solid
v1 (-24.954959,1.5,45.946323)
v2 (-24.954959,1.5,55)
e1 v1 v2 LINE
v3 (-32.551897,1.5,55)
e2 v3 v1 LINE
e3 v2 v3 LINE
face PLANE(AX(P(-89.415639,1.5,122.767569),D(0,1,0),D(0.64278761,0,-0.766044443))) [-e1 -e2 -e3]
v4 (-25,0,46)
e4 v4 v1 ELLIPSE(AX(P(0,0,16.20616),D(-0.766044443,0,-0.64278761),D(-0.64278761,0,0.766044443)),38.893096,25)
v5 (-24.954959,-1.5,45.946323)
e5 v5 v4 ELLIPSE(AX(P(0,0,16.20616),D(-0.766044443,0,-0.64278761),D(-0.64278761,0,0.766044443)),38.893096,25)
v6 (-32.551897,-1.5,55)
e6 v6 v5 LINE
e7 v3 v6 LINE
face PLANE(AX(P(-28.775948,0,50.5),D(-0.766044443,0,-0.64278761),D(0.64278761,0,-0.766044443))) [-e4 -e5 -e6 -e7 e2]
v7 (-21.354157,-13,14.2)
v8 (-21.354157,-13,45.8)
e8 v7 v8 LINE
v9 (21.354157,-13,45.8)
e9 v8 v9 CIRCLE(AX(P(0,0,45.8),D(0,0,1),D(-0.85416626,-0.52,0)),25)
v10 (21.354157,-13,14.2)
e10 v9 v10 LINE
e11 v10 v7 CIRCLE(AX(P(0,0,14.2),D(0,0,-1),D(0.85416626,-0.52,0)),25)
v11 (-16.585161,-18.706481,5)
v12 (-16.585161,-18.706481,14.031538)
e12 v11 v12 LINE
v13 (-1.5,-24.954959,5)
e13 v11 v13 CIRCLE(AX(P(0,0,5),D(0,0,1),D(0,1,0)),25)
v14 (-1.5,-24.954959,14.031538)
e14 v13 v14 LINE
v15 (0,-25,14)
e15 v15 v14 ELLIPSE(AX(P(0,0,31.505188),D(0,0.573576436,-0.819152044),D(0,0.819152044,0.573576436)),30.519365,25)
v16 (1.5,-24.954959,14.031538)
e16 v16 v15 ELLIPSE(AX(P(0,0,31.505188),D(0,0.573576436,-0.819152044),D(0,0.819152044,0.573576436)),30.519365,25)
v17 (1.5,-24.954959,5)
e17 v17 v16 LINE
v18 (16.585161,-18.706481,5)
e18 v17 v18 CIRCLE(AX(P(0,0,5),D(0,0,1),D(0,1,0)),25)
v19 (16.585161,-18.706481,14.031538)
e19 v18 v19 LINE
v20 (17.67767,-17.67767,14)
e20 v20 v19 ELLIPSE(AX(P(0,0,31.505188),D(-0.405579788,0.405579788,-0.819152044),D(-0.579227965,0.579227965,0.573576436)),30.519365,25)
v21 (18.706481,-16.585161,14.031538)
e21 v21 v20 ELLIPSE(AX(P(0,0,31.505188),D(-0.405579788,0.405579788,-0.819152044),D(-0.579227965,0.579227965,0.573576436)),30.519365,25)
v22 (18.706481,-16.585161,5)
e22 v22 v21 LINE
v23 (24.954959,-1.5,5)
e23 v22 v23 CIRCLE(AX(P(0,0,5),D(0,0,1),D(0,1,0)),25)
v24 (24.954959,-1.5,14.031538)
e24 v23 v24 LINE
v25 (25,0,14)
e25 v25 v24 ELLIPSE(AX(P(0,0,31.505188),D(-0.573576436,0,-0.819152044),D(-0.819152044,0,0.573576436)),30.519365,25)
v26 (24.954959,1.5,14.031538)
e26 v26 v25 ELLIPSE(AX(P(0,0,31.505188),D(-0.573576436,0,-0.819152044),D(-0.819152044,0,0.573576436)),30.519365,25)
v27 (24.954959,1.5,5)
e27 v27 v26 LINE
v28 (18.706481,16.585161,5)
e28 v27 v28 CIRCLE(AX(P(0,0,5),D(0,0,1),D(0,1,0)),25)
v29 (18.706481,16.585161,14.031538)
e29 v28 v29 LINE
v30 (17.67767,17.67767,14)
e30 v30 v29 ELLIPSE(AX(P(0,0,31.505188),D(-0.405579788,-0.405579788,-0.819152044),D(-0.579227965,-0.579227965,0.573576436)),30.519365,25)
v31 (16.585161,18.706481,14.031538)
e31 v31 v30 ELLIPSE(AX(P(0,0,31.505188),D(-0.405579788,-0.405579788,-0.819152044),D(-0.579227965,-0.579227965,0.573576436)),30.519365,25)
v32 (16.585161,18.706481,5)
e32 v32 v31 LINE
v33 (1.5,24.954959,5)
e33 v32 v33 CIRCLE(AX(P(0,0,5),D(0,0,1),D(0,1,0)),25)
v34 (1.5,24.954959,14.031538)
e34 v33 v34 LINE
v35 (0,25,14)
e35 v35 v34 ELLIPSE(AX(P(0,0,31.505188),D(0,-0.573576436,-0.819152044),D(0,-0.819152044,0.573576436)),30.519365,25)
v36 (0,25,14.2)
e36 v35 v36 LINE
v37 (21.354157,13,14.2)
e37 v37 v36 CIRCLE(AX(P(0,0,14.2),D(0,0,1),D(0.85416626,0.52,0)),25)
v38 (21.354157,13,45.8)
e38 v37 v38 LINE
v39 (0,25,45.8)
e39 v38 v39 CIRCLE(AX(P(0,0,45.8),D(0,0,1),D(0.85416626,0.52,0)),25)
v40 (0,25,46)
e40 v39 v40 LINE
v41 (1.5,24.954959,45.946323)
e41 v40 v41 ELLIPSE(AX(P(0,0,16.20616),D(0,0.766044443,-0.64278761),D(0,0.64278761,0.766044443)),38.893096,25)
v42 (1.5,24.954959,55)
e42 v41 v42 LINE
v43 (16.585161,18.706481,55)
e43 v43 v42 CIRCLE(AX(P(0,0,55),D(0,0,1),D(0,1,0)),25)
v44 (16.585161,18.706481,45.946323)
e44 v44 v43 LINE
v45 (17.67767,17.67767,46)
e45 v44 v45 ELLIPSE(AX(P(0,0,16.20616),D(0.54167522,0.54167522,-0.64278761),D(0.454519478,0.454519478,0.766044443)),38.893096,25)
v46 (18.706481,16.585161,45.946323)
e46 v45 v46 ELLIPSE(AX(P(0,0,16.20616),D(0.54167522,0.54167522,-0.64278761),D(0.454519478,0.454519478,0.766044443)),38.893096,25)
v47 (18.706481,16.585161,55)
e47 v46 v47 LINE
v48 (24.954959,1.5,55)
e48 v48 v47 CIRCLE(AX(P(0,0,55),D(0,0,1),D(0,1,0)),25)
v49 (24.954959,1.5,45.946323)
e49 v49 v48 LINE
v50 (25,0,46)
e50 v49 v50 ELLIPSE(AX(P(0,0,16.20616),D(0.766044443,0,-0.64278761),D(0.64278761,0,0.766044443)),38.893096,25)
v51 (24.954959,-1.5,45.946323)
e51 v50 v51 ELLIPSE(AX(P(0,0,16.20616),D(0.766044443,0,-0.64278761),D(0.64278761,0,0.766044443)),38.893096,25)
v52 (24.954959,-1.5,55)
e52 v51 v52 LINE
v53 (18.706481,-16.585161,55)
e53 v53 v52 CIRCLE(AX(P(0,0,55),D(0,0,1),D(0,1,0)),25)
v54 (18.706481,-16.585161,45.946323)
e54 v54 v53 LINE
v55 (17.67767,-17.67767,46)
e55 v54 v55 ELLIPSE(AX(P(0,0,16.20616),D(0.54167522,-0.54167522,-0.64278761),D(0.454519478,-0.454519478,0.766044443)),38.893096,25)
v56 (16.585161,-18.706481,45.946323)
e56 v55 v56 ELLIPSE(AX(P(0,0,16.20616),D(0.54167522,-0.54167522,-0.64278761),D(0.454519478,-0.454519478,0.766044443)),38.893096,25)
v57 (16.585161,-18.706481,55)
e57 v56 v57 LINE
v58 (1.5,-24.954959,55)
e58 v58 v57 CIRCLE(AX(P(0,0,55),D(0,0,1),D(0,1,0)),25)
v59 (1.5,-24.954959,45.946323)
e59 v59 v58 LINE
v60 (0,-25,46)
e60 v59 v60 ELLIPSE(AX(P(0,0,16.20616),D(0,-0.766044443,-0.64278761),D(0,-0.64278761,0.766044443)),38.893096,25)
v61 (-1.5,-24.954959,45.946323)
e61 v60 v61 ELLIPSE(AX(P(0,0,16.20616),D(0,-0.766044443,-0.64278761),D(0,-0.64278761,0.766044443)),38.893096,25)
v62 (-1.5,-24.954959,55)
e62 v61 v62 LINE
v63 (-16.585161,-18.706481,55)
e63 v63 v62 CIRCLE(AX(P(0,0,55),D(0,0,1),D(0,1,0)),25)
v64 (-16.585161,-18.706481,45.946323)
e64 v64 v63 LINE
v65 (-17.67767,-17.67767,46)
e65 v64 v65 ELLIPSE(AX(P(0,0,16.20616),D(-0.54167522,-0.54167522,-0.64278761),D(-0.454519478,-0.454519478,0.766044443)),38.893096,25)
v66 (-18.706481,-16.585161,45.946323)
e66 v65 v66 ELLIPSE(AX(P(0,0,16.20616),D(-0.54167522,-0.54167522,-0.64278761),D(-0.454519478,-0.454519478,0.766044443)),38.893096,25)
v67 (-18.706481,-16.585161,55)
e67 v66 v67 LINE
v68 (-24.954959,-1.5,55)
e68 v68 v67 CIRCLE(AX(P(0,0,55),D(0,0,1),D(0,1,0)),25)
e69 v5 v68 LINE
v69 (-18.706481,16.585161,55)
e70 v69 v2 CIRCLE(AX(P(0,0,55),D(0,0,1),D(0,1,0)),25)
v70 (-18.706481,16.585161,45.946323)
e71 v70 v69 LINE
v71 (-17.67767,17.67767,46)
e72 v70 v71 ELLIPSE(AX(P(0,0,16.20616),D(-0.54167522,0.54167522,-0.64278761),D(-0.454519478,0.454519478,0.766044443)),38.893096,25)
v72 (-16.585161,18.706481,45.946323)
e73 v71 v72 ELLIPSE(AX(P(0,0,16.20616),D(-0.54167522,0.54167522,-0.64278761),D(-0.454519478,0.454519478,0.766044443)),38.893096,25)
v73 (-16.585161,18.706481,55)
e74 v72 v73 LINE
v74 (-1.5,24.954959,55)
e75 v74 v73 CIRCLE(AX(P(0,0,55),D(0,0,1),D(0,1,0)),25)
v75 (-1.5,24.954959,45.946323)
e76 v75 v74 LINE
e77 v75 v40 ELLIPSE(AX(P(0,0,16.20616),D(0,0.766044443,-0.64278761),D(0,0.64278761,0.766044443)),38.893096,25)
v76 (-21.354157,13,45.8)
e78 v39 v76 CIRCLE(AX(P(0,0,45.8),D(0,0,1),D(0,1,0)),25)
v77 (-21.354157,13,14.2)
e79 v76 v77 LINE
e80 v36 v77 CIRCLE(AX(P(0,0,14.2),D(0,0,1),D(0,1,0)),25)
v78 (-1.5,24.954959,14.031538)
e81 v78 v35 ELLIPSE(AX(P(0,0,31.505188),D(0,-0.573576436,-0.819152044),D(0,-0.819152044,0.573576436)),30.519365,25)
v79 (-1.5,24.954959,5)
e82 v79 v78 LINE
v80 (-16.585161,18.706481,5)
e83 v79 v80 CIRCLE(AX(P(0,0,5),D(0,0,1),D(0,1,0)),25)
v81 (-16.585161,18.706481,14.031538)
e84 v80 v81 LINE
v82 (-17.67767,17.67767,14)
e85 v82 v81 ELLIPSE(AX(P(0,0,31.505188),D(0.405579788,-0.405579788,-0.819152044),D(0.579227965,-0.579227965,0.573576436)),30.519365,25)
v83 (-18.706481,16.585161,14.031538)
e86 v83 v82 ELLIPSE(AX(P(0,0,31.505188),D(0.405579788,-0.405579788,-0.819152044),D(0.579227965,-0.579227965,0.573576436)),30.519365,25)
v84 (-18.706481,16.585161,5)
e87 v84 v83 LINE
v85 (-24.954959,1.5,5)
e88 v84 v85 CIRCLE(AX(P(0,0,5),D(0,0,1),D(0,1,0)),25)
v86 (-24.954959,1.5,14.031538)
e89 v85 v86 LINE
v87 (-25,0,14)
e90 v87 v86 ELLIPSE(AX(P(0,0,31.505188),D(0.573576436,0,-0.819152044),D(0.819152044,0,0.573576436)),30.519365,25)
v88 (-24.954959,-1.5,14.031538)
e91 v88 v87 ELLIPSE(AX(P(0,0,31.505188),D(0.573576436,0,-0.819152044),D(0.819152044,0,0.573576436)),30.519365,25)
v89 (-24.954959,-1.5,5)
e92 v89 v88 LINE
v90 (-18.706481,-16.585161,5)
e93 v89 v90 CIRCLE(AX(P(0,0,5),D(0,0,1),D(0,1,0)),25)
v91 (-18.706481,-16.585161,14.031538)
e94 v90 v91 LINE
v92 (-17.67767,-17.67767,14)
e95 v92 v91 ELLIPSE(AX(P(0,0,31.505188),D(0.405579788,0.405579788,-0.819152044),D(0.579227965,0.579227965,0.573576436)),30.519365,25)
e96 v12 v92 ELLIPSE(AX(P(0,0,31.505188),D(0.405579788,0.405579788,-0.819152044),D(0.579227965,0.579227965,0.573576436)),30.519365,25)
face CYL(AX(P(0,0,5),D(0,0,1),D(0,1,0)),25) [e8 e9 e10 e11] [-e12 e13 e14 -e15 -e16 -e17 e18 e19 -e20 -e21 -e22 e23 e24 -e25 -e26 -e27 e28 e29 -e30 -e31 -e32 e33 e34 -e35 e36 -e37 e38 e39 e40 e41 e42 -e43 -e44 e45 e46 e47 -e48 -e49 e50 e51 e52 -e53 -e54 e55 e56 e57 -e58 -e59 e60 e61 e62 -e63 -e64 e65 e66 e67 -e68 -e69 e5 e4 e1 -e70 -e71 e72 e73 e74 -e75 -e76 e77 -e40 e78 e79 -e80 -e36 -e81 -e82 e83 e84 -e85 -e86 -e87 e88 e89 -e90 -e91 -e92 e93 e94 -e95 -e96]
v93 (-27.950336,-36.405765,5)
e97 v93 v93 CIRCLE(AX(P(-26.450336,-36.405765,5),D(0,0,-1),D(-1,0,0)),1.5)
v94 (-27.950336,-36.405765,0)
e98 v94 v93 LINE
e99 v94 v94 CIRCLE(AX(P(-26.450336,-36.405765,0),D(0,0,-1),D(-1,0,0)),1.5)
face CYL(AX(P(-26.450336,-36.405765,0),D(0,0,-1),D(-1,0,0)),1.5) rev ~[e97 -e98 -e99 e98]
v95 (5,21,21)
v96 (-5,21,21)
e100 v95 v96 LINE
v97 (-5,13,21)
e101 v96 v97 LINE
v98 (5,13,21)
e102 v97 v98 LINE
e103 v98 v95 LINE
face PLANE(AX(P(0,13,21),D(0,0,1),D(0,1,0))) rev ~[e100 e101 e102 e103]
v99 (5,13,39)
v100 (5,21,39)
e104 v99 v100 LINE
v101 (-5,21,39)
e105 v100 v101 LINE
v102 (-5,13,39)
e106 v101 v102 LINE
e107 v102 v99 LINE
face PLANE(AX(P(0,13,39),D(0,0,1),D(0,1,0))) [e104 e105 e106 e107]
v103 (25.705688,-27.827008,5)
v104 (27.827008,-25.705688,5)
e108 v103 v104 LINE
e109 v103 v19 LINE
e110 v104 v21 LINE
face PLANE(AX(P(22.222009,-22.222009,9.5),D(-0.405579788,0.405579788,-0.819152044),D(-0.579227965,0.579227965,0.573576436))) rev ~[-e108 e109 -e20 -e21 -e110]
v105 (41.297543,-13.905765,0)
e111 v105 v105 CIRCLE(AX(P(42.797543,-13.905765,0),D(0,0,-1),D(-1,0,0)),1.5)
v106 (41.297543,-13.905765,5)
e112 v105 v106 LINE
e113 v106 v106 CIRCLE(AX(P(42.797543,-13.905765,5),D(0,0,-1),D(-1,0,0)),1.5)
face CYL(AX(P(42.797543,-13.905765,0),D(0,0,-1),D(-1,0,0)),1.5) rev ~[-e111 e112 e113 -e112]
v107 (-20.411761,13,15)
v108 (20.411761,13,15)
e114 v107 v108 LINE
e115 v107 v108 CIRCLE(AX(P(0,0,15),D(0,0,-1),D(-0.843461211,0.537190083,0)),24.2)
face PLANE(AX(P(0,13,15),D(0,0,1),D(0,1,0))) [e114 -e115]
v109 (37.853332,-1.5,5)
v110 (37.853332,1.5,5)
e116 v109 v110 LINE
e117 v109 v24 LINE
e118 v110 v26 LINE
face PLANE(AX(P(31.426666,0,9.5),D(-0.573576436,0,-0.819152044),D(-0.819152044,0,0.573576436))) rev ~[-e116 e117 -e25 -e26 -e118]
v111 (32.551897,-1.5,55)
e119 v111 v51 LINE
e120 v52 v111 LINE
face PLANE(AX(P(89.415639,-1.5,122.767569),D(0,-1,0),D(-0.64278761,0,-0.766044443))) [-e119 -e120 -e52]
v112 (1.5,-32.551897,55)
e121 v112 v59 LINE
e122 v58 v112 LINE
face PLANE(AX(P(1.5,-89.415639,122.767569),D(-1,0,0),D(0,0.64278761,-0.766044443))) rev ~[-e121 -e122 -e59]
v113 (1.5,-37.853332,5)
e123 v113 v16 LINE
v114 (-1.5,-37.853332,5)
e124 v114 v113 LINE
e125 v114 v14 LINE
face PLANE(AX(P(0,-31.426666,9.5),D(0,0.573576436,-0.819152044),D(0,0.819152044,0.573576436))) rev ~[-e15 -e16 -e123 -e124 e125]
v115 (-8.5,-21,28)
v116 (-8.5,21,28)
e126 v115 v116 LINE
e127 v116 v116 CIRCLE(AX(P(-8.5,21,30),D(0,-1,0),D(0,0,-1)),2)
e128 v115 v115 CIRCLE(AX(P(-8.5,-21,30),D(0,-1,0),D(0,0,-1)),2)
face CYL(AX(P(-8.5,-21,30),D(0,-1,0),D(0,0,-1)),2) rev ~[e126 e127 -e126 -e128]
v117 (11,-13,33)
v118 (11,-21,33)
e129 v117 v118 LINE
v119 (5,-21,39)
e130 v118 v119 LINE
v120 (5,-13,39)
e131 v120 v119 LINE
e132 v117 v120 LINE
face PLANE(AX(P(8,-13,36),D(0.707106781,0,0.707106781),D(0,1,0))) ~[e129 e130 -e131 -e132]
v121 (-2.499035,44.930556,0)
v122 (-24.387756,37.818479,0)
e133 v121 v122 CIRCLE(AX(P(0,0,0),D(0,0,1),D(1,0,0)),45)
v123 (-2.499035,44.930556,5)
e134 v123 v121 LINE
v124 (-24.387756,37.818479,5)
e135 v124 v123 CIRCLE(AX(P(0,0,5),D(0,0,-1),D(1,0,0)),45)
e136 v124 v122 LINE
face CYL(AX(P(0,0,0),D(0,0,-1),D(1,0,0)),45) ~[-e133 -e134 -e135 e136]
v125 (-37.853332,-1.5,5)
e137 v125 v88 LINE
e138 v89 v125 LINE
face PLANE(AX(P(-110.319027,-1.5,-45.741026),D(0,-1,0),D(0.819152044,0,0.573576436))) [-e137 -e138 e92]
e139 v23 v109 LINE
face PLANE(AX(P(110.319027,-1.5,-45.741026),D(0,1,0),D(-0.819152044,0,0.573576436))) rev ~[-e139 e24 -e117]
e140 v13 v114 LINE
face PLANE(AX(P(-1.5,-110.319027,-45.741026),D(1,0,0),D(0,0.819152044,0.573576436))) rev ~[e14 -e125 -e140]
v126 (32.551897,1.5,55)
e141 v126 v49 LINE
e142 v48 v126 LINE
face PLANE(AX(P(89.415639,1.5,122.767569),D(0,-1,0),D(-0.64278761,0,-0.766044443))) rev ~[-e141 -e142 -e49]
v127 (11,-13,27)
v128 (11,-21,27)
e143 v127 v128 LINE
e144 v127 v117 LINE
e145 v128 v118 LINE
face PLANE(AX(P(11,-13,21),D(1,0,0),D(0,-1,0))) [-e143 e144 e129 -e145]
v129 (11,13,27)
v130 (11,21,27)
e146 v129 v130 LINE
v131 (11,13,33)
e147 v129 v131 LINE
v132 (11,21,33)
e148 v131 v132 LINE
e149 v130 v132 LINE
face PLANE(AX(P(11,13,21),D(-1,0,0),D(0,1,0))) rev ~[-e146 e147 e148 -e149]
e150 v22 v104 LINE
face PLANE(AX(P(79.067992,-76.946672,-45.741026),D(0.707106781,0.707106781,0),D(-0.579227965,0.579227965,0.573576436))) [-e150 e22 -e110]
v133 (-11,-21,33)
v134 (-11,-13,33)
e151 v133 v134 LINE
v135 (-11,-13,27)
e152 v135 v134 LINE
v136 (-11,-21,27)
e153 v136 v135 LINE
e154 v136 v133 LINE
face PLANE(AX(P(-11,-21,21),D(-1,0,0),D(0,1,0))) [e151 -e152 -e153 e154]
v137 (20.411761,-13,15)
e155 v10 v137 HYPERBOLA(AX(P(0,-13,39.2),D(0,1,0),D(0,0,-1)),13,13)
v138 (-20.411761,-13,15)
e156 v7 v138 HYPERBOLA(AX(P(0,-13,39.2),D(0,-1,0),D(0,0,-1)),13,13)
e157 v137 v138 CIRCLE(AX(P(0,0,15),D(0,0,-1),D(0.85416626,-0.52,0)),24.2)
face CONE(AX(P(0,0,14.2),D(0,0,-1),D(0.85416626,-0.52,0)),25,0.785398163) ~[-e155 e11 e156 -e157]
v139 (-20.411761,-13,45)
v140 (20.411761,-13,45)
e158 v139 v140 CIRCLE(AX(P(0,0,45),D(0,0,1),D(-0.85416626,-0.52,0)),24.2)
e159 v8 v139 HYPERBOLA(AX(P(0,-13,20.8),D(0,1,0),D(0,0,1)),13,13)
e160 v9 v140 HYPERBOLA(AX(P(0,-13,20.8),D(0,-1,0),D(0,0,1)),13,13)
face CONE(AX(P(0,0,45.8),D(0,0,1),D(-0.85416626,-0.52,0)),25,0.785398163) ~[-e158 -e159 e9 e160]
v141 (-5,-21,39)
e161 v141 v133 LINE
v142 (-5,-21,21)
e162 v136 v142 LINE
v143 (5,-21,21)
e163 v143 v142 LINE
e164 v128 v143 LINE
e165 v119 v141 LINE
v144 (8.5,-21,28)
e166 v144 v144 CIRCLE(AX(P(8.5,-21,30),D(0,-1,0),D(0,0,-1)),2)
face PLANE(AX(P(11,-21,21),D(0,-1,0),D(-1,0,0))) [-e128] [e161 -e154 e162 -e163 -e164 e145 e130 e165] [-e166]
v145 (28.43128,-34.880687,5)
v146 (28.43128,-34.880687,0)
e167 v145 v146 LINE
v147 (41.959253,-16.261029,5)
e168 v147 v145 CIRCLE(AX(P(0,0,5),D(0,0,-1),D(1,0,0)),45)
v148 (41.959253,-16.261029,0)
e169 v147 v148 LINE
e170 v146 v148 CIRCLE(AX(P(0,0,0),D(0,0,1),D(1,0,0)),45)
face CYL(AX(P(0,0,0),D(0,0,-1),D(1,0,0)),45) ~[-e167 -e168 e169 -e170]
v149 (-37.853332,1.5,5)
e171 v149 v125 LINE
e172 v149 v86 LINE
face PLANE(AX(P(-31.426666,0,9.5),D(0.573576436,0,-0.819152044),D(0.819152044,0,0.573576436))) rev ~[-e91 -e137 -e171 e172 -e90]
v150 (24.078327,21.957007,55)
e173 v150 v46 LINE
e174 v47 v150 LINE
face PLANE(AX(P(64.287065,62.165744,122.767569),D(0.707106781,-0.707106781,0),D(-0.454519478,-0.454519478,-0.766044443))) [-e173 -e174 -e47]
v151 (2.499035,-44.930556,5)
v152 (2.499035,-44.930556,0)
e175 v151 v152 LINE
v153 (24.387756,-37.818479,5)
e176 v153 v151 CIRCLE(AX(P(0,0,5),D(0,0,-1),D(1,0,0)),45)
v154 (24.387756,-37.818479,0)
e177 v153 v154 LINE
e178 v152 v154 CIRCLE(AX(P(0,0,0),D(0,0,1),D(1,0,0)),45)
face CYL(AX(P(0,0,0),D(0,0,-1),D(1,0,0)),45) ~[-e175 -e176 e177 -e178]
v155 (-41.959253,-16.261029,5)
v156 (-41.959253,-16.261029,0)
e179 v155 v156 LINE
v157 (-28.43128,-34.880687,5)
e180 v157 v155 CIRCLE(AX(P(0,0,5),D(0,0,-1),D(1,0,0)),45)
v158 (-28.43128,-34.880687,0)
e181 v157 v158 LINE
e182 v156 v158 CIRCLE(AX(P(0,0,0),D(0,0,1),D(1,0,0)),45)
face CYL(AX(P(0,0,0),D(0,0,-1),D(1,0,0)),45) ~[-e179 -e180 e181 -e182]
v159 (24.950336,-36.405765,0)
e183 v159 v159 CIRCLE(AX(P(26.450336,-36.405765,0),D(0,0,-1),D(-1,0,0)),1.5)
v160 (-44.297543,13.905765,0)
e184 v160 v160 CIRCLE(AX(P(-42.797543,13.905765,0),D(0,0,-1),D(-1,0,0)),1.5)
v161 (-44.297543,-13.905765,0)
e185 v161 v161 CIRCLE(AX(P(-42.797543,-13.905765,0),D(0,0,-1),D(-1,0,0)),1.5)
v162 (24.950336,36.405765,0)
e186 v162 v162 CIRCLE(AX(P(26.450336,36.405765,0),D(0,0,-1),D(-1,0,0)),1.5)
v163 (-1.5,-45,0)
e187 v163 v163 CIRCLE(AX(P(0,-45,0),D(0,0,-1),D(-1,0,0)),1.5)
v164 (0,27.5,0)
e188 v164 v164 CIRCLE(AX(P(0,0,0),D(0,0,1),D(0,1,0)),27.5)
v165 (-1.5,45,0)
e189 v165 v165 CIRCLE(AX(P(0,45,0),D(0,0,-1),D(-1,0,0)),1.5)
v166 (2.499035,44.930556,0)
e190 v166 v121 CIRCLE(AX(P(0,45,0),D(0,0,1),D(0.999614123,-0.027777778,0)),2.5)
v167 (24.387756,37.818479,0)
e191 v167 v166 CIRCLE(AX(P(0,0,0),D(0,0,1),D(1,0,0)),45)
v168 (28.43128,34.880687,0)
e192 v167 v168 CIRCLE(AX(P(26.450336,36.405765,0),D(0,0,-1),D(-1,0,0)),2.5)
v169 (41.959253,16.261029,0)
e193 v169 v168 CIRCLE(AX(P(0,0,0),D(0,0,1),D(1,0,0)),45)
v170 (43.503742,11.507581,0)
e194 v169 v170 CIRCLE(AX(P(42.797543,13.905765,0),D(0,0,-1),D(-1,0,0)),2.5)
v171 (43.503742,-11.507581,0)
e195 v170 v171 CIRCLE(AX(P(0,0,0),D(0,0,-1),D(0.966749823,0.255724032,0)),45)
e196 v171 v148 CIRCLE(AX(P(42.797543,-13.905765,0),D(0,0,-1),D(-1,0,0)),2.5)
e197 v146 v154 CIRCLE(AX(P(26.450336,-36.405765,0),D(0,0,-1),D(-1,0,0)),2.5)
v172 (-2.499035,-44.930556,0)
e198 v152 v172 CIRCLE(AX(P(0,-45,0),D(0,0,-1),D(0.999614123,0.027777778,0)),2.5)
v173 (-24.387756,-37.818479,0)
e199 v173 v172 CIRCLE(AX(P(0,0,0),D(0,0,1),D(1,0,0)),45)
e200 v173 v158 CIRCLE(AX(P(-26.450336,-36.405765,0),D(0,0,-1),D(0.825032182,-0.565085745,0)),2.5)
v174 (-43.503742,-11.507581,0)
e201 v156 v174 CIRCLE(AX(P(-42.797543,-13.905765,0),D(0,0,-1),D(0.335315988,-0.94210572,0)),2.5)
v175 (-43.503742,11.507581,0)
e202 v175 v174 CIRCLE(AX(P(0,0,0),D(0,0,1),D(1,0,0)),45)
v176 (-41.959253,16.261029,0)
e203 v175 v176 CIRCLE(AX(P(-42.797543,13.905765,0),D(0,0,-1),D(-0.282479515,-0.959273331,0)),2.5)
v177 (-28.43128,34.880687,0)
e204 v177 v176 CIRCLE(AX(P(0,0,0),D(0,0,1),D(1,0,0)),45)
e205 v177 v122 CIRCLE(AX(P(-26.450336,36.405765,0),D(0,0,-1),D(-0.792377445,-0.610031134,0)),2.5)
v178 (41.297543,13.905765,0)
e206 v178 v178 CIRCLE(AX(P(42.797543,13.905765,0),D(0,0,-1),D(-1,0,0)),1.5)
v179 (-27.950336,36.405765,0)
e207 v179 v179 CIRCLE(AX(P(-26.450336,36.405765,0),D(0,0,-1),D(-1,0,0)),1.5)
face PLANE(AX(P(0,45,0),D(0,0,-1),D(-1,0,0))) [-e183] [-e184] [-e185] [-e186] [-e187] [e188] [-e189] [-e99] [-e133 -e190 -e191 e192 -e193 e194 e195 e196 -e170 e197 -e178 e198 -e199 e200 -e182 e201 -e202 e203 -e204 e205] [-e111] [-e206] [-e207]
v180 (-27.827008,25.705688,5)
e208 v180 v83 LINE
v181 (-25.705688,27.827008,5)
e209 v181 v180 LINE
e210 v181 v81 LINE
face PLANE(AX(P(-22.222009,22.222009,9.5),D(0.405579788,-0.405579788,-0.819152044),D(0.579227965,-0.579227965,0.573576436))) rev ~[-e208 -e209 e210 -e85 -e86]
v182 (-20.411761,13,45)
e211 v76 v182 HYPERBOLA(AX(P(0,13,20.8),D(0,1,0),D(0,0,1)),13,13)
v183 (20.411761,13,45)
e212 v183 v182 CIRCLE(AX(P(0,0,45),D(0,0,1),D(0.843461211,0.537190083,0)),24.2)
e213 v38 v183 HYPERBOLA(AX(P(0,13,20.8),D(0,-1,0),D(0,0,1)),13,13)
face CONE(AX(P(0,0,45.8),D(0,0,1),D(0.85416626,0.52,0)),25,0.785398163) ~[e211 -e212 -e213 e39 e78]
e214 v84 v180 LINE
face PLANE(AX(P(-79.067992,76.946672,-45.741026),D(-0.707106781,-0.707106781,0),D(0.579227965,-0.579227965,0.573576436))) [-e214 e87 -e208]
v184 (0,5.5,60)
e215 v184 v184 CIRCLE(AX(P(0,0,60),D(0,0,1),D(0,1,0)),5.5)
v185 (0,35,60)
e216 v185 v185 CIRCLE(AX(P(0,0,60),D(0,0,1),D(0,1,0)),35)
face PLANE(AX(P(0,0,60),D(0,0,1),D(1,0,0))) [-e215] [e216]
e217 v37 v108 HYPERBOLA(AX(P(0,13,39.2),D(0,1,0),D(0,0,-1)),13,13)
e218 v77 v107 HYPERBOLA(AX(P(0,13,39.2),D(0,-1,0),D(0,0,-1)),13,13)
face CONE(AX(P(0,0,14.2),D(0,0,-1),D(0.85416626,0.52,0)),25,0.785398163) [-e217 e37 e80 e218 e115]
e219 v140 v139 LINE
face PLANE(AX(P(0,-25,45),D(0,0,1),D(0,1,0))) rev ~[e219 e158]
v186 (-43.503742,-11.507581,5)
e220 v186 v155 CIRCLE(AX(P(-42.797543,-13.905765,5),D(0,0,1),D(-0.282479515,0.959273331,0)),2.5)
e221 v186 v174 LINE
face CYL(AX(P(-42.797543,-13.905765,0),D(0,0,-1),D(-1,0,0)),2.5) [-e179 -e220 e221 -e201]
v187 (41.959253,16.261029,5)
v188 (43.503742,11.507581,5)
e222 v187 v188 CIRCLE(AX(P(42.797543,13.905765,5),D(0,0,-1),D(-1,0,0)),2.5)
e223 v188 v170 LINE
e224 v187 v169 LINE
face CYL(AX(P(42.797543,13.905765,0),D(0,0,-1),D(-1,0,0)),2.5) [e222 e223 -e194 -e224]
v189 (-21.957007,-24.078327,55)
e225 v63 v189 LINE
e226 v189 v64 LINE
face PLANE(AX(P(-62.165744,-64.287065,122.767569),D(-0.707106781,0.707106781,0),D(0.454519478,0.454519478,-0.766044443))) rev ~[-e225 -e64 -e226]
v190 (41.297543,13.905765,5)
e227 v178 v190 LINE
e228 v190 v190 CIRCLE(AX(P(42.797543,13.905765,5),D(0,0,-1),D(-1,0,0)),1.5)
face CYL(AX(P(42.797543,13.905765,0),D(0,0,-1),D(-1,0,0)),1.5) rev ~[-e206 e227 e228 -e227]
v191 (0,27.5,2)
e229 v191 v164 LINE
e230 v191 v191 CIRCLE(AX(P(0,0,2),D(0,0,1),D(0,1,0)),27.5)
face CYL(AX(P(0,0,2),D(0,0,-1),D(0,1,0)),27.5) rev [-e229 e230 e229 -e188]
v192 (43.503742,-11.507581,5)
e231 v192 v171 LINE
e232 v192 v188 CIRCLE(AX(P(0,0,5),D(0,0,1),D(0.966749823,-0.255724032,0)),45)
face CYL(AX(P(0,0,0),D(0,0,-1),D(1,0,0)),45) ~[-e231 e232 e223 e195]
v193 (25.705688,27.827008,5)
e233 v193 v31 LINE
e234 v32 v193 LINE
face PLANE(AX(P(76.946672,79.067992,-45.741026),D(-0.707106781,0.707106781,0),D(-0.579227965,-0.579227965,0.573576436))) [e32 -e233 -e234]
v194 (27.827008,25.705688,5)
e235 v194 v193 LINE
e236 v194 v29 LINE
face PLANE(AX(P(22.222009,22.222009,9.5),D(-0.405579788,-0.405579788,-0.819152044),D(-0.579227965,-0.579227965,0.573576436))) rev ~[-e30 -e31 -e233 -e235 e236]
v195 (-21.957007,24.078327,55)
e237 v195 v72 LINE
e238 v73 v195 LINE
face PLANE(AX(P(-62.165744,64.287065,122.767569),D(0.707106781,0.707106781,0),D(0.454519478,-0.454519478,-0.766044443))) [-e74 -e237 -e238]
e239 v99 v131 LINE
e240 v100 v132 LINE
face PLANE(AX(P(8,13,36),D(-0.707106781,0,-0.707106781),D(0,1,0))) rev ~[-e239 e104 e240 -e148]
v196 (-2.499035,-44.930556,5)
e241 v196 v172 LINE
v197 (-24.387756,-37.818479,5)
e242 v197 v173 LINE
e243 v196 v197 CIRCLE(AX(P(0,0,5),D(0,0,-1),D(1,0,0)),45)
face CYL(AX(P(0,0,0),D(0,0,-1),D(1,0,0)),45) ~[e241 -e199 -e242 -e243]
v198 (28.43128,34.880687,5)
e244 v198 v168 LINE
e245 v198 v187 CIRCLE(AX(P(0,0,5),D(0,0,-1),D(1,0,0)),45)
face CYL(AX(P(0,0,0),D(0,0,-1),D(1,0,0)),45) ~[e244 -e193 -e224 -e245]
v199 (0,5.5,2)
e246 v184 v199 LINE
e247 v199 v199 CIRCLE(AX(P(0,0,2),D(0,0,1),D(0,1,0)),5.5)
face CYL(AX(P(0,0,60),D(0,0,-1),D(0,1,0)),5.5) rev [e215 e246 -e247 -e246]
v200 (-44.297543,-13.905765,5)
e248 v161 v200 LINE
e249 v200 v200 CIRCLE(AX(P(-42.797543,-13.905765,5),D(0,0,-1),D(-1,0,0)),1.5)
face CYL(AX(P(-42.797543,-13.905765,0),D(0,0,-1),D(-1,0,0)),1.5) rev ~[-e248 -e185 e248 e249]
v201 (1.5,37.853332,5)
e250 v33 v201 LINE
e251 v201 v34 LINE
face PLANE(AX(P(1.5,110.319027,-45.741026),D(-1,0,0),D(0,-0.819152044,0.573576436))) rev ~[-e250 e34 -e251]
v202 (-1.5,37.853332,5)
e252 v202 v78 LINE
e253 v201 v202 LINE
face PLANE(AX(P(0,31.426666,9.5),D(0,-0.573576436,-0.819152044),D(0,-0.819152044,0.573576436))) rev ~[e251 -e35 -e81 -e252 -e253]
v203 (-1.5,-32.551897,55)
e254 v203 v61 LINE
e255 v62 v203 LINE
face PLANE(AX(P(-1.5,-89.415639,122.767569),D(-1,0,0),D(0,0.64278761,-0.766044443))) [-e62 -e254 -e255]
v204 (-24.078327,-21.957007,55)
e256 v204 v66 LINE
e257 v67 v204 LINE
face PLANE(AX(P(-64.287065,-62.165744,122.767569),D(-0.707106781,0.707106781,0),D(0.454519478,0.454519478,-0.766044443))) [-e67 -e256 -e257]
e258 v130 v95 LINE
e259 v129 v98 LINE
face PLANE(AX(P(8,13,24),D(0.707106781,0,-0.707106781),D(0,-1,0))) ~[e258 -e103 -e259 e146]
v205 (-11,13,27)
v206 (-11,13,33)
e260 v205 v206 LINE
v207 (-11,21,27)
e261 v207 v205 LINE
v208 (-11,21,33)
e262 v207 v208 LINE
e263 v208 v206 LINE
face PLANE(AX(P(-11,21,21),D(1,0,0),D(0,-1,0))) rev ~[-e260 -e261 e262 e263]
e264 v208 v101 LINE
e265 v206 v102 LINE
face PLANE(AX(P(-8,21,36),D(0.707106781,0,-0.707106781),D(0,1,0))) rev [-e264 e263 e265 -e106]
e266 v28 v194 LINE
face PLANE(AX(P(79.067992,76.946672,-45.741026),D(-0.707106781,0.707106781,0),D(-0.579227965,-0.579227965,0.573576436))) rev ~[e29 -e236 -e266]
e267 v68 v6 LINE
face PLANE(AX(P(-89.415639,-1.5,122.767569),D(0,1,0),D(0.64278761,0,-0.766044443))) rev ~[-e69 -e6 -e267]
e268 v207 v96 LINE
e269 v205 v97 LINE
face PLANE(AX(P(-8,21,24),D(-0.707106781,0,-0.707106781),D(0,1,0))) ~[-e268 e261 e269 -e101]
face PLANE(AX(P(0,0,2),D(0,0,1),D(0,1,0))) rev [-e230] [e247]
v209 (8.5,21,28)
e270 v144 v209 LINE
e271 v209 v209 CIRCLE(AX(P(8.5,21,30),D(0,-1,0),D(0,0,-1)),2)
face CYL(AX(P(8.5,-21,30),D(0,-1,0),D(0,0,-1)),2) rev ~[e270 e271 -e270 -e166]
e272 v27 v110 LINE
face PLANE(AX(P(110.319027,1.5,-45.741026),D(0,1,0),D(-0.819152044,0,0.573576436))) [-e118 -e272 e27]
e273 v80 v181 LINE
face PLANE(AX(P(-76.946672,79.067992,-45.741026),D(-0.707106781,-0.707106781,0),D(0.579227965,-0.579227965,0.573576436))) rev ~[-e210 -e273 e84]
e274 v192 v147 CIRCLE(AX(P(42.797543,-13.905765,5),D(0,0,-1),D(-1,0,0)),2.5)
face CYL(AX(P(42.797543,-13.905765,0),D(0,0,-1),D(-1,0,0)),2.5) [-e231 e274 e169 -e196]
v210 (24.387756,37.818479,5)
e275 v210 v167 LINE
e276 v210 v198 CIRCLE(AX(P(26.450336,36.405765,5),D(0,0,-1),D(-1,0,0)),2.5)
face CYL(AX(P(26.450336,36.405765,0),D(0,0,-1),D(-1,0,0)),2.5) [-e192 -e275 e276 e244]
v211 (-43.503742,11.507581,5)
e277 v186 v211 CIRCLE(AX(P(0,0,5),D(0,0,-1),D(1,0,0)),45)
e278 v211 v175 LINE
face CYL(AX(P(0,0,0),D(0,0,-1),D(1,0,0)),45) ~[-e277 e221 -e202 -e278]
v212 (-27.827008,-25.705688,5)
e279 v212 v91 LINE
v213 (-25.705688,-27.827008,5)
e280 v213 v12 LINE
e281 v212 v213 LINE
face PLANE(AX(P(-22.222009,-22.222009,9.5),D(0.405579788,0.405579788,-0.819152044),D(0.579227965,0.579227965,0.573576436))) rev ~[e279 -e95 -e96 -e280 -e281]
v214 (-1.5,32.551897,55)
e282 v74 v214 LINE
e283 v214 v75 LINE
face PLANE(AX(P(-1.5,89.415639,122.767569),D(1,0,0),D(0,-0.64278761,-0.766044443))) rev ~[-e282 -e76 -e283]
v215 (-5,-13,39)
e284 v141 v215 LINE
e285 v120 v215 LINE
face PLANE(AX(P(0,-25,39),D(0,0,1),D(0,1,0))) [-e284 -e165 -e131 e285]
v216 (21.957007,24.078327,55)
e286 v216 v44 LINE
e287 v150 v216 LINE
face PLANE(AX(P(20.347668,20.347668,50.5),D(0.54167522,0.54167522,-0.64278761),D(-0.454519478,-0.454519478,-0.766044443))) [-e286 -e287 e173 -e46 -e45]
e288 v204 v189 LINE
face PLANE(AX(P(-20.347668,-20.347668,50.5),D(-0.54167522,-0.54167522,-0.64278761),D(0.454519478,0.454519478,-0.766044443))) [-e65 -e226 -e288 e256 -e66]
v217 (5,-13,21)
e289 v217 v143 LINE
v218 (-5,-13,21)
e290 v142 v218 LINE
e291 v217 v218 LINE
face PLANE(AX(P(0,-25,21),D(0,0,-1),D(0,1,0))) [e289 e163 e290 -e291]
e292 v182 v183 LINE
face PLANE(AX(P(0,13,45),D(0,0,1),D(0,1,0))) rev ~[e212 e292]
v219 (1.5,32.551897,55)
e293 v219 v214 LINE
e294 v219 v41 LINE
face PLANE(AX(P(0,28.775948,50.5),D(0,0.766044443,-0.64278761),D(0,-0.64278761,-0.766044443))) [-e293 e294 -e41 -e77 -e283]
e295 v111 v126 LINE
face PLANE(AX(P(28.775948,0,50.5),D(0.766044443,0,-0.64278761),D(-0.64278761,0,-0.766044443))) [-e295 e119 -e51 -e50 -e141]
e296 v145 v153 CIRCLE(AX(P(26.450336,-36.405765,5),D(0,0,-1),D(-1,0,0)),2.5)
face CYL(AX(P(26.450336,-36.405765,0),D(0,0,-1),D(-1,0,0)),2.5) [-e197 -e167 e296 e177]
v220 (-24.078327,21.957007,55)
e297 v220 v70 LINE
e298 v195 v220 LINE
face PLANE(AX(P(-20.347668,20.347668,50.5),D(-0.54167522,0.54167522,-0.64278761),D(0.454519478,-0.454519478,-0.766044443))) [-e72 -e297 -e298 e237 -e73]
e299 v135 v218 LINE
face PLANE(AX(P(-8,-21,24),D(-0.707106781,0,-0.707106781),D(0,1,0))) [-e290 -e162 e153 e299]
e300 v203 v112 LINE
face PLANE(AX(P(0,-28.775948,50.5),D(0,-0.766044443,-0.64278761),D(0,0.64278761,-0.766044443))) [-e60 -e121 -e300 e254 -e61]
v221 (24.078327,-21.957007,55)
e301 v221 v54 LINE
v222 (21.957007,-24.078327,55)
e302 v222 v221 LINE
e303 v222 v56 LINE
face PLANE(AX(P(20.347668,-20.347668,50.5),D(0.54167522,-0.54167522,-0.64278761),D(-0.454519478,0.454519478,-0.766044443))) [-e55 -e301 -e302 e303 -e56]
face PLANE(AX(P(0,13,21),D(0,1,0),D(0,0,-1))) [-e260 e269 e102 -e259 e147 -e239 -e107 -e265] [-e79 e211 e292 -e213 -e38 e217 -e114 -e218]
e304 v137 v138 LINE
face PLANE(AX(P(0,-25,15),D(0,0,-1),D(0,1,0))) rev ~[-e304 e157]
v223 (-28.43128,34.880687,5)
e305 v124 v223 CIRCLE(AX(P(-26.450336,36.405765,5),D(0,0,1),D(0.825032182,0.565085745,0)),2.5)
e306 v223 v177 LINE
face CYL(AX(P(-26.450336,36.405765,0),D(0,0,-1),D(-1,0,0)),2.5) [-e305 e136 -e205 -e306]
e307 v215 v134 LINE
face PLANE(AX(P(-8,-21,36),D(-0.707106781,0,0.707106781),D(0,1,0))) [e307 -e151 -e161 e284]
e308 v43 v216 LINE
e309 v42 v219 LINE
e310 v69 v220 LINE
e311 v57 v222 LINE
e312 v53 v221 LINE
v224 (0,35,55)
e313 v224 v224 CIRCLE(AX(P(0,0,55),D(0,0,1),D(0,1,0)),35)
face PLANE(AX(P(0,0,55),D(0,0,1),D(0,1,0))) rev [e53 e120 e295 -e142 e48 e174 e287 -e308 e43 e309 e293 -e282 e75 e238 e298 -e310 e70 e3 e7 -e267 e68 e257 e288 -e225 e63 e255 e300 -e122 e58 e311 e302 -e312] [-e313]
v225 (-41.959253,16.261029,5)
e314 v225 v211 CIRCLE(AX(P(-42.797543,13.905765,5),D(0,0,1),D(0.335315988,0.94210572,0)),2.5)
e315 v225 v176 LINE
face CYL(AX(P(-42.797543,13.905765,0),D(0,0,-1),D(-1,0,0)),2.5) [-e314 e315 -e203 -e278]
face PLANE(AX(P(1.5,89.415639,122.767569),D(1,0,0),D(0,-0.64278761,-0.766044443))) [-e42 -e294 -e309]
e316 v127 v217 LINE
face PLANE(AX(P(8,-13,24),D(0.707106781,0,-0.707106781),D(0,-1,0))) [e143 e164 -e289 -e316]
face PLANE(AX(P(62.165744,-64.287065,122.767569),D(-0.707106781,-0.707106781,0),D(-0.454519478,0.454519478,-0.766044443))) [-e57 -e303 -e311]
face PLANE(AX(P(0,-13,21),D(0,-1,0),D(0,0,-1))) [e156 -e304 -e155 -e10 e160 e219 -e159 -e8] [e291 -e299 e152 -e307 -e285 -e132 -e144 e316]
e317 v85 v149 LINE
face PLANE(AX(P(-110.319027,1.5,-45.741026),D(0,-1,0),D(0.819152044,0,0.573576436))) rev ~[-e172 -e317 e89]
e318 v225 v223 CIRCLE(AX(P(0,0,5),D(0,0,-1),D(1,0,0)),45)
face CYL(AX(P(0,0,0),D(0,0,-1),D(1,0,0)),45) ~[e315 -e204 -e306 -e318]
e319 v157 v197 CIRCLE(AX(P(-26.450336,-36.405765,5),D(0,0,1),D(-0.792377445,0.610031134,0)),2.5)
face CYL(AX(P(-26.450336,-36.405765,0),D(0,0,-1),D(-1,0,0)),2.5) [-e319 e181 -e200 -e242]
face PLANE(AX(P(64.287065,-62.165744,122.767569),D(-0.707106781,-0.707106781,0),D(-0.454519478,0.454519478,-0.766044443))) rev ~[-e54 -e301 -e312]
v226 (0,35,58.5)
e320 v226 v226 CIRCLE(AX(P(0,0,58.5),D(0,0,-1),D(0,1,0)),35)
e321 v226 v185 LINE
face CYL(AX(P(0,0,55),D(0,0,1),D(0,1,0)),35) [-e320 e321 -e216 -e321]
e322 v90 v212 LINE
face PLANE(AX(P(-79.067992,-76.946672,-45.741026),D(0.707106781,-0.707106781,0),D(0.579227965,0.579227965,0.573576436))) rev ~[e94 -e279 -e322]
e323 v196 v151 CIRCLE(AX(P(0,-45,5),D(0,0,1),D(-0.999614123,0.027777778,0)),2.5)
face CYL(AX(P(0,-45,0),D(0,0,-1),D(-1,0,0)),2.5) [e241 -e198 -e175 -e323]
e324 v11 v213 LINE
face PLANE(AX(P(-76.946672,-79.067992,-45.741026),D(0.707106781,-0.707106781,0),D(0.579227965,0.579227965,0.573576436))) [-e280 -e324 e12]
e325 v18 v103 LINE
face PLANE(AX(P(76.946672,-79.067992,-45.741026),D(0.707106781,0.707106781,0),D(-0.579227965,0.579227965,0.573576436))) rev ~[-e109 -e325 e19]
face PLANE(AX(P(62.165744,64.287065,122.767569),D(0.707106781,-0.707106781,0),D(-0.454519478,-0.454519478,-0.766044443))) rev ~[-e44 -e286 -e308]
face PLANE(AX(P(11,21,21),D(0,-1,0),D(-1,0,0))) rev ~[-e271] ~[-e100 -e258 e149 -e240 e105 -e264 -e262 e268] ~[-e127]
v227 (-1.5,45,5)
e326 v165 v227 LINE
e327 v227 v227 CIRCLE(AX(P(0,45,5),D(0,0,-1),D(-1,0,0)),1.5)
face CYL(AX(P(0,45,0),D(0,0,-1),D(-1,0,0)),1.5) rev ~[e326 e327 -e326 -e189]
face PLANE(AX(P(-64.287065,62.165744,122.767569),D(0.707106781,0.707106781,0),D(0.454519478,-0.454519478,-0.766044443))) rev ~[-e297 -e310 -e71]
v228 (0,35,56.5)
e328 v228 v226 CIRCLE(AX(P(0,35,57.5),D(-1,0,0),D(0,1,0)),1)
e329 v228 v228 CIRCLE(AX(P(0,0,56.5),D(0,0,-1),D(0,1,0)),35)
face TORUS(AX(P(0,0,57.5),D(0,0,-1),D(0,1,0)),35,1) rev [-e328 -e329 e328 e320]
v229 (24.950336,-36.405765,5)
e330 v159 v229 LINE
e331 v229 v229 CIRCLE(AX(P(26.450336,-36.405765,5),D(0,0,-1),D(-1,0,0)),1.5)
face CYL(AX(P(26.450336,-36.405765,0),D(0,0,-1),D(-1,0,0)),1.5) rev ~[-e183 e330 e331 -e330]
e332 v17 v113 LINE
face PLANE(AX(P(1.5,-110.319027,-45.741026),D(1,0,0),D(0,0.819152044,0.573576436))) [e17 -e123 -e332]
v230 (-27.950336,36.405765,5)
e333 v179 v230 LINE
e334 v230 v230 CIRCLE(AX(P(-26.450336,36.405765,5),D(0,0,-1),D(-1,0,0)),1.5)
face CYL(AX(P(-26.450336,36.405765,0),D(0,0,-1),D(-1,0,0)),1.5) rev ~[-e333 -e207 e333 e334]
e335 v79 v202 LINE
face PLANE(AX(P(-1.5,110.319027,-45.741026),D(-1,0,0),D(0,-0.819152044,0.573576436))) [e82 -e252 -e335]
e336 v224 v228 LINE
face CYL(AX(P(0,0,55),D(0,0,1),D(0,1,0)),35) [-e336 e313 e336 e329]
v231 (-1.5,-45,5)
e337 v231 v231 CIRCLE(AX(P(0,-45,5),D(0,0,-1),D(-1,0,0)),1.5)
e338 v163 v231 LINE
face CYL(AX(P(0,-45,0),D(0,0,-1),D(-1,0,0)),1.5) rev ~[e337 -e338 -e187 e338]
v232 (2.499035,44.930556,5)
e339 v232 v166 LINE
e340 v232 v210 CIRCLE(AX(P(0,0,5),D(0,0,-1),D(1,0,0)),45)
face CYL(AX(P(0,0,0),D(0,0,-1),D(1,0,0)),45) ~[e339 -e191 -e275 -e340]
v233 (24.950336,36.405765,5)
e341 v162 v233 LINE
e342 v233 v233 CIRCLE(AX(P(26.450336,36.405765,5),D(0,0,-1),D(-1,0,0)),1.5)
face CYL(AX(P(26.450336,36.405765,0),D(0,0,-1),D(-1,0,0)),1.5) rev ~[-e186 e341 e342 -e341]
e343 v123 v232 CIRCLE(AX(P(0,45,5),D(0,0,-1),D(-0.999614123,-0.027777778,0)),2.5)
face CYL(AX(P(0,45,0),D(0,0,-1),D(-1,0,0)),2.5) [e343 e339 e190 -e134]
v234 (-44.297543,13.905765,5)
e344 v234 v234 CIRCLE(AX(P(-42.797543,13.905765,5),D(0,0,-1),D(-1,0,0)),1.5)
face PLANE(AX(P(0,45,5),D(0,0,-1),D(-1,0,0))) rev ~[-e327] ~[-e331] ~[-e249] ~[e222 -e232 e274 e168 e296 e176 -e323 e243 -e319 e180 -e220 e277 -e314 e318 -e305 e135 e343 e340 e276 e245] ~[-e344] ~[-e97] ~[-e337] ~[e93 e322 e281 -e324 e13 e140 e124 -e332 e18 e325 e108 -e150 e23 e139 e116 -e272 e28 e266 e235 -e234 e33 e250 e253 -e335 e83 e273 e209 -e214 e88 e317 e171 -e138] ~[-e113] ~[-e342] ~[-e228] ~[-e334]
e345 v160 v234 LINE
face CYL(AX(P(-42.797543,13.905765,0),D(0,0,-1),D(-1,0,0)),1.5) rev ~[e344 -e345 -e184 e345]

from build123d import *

# Parameters (mm, degrees)
SKETCH1_R           = 45
BOSS_EXTRUDE1_DEPTH = 60
RIB8_REACH          = 89.464
SKETCH4_WALL_W      = 192.619578006
SKETCH4_WALL_H      = 3
RIB9_REACH          = 89.464
SKETCH5_WALL_W      = 188.67722245
SKETCH5_WALL_H      = 3
CIRPATTERN1_COUNT   = 8
SKETCH6_W           = 6
SKETCH6_H           = 12
CUT_EXTRUDE1_DEPTH  = 30
CUT_EXTRUDE2_DEPTH  = 18
CHAMFER1_SIZE       = 0.8
CHAMFER2_SIZE       = 6
SKETCH10_R          = 2
CUT_EXTRUDE3_DEPTH  = 100.904954832
SKETCH11_R          = 2.5
BOSS_EXTRUDE2_DEPTH = 5
SKETCH12_R          = 1.5
CUT_EXTRUDE4_DEPTH  = 5
SKETCH13_R          = 1


with BuildPart() as part:
    # Sketch1 → Boss-Extrude1 (new body)
    with BuildSketch(Plane.XY):
        Circle(SKETCH1_R)
    extrude(amount=BOSS_EXTRUDE1_DEPTH)

    # Sketch3 → Cut-Revolve1 (revolve, cut)
    with BuildSketch(Plane(origin=(0, 0, 0), x_dir=(0, 0, -1), z_dir=(1, 0, 0))):
        Polygon((0, 27.5), (0, 0), (-60, 0), (-60, 5.5), (-2, 5.5), (-2, 27.5), align=None)
        Polygon((-5, 45), (-5, 25), (-55, 25), (-55, 35), (-60, 35), (-60, 45), align=None)
    revolve(axis=Axis((0, 0, 0), (0, 0, 1)), mode=Mode.SUBTRACT)

    # Sketch4 wall → Rib8 (add, up to next)
    with BuildSketch(Plane(origin=(0, 31.426666031, 9.5), x_dir=(0, -0.819152044296, 0.573576436341), z_dir=(0, -0.573576436341, -0.819152044296)), mode=Mode.PRIVATE) as rib8_sk1:
        Rectangle(SKETCH4_WALL_W, SKETCH4_WALL_H)
    rib8_tool1 = extrude(rib8_sk1.sketch, amount=RIB8_REACH, mode=Mode.PRIVATE) - part.part
    rib8 = rib8_tool1.solids().sort_by_distance((0, 31.426666031, 9.5))[0]
    add(rib8)

    # Sketch5 wall → Rib9 (add, up to next)
    with BuildSketch(Plane(origin=(0, 28.775948341, 50.5), x_dir=(0, -0.642787609707, -0.766044443102), z_dir=(0, 0.766044443102, -0.642787609707)), mode=Mode.PRIVATE) as rib9_sk1:
        Rectangle(SKETCH5_WALL_W, SKETCH5_WALL_H)
    rib9_tool1 = extrude(rib9_sk1.sketch, amount=-RIB9_REACH, mode=Mode.PRIVATE) - part.part
    rib9 = rib9_tool1.solids().sort_by_distance((0, 28.775948341, 50.5))[0]
    add(rib9)

    # CirPattern1: Rib8, Rib9 ×8 about axis
    cirpattern1_axis = Axis((0, 0, 0), (0, 0, 1))
    add([rib8.rotate(cirpattern1_axis, i * 360 / CIRPATTERN1_COUNT) for i in range(1, CIRPATTERN1_COUNT)])
    add([rib9.rotate(cirpattern1_axis, i * 360 / CIRPATTERN1_COUNT) for i in range(1, CIRPATTERN1_COUNT)])

    # Sketch6 → Cut-Extrude1 (cut, symmetric)
    with BuildSketch(Plane(origin=(0, 0, 0), x_dir=(0, 0, -1), z_dir=(1, 0, 0))):
        with Locations((-18, 19)):
            Rectangle(SKETCH6_W, SKETCH6_H)
        with Locations((-42, 19)):
            Rectangle(SKETCH6_W, SKETCH6_H)
        with Locations((-42, -19)):
            Rectangle(SKETCH6_W, SKETCH6_H)
        with Locations((-18, -19)):
            Rectangle(SKETCH6_W, SKETCH6_H)
    extrude(amount=CUT_EXTRUDE1_DEPTH, both=True, mode=Mode.SUBTRACT)

    # Sketch8 → Cut-Extrude2 (cut)
    with BuildSketch(Plane(origin=(0, 0, 21), x_dir=(-1, 0, 0), z_dir=(0, 0, -1))):
        Polygon((-11, 13), (-11, 21), (11, 21), (11, 13), (26.229477205, 13), (26.229477205, 31.577824801), (-25.591324377, 31.577824801), (-25.591324377, 13), align=None)
        Polygon((-25.591324377, -13), (-11, -13), (-11, -21), (11, -21), (11, -13), (26.229477205, -13), (26.229477205, -31.577824801), (-25.591324377, -31.577824801), align=None)
    extrude(amount=-CUT_EXTRUDE2_DEPTH, mode=Mode.SUBTRACT)

    # Chamfer1
    chamfer1_edges = [part.edges().sort_by_distance(p)[0] for p in [
        (-12.247448714, 21.794494718, 15),
        (12.247448714, 21.794494718, 45),
        (0, -25, 45),
        (0, -25, 15),
    ]]
    chamfer(chamfer1_edges, length=CHAMFER1_SIZE)

    # Chamfer2
    chamfer2_edges = [part.edges().sort_by_distance(p)[0] for p in [
        (11, 17, 21),
        (-11, 17, 21),
        (-11, 17, 39),
        (11, 17, 39),
        (11, -17, 39),
        (-11, -17, 39),
        (-11, -17, 21),
        (11, -17, 21),
    ]]
    chamfer(chamfer2_edges, length=CHAMFER2_SIZE)

    # Sketch10 → Cut-Extrude3 (cut, through all)
    with BuildSketch(Plane.XZ.offset(21)):
        with Locations(Location((-8.5, 30, 0), (0, 0, 270))):
            Circle(SKETCH10_R)
        with Locations(Location((8.5, 30, 0), (0, 0, 270))):
            Circle(SKETCH10_R)
    extrude(amount=-CUT_EXTRUDE3_DEPTH, mode=Mode.SUBTRACT)

    # Sketch11 → Boss-Extrude2 (add)
    with BuildSketch(Plane(origin=(0, 0, 0), x_dir=(-1, 0, 0), z_dir=(0, 0, -1))):
        with Locations((0, 45)):
            Circle(SKETCH11_R)
        with Locations((26.450336353, 36.405764747)):
            Circle(SKETCH11_R)
        with Locations((42.797543233, 13.905764747)):
            Circle(SKETCH11_R)
        with Locations((42.797543233, -13.905764747)):
            Circle(SKETCH11_R)
        with Locations((26.450336353, -36.405764747)):
            Circle(SKETCH11_R)
        with Locations((0, -45)):
            Circle(SKETCH11_R)
        with Locations((-26.450336353, -36.405764747)):
            Circle(SKETCH11_R)
        with Locations((-42.797543233, -13.905764747)):
            Circle(SKETCH11_R)
        with Locations((-42.797543233, 13.905764747)):
            Circle(SKETCH11_R)
        with Locations((-26.450336353, 36.405764747)):
            Circle(SKETCH11_R)
    extrude(amount=-BOSS_EXTRUDE2_DEPTH)

    # Sketch12 → Cut-Extrude4 (cut)
    with BuildSketch(Plane(origin=(0, 0, 0), x_dir=(-1, 0, 0), z_dir=(0, 0, -1))):
        with Locations((0, 45)):
            Circle(SKETCH12_R)
        with Locations((26.450336353, 36.405764747)):
            Circle(SKETCH12_R)
        with Locations((42.797543233, 13.905764747)):
            Circle(SKETCH12_R)
        with Locations((42.797543233, -13.905764747)):
            Circle(SKETCH12_R)
        with Locations((26.450336353, -36.405764747)):
            Circle(SKETCH12_R)
        with Locations((0, -45)):
            Circle(SKETCH12_R)
        with Locations((-26.450336353, -36.405764747)):
            Circle(SKETCH12_R)
        with Locations((-42.797543233, -13.905764747)):
            Circle(SKETCH12_R)
        with Locations((-42.797543233, 13.905764747)):
            Circle(SKETCH12_R)
        with Locations((-26.450336353, 36.405764747)):
            Circle(SKETCH12_R)
    extrude(amount=-CUT_EXTRUDE4_DEPTH, mode=Mode.SUBTRACT)

    # Sketch13 → Cut-Revolve2 (revolve, cut)
    with BuildSketch(Plane(origin=(0, 0, 0), x_dir=(1, 0, 0), z_dir=(0, 1, 0)), mode=Mode.PRIVATE) as cut_revolve2_sk:
        with Locations((35, -57.5)):
            Circle(SKETCH13_R)
    revolve(cut_revolve2_sk.sketch.rotate(Axis((0, 0, 0), (0, 0, 1)), 90), axis=Axis((0, 0, 0), (0, 0, 1)), mode=Mode.SUBTRACT)


solid = part.part
